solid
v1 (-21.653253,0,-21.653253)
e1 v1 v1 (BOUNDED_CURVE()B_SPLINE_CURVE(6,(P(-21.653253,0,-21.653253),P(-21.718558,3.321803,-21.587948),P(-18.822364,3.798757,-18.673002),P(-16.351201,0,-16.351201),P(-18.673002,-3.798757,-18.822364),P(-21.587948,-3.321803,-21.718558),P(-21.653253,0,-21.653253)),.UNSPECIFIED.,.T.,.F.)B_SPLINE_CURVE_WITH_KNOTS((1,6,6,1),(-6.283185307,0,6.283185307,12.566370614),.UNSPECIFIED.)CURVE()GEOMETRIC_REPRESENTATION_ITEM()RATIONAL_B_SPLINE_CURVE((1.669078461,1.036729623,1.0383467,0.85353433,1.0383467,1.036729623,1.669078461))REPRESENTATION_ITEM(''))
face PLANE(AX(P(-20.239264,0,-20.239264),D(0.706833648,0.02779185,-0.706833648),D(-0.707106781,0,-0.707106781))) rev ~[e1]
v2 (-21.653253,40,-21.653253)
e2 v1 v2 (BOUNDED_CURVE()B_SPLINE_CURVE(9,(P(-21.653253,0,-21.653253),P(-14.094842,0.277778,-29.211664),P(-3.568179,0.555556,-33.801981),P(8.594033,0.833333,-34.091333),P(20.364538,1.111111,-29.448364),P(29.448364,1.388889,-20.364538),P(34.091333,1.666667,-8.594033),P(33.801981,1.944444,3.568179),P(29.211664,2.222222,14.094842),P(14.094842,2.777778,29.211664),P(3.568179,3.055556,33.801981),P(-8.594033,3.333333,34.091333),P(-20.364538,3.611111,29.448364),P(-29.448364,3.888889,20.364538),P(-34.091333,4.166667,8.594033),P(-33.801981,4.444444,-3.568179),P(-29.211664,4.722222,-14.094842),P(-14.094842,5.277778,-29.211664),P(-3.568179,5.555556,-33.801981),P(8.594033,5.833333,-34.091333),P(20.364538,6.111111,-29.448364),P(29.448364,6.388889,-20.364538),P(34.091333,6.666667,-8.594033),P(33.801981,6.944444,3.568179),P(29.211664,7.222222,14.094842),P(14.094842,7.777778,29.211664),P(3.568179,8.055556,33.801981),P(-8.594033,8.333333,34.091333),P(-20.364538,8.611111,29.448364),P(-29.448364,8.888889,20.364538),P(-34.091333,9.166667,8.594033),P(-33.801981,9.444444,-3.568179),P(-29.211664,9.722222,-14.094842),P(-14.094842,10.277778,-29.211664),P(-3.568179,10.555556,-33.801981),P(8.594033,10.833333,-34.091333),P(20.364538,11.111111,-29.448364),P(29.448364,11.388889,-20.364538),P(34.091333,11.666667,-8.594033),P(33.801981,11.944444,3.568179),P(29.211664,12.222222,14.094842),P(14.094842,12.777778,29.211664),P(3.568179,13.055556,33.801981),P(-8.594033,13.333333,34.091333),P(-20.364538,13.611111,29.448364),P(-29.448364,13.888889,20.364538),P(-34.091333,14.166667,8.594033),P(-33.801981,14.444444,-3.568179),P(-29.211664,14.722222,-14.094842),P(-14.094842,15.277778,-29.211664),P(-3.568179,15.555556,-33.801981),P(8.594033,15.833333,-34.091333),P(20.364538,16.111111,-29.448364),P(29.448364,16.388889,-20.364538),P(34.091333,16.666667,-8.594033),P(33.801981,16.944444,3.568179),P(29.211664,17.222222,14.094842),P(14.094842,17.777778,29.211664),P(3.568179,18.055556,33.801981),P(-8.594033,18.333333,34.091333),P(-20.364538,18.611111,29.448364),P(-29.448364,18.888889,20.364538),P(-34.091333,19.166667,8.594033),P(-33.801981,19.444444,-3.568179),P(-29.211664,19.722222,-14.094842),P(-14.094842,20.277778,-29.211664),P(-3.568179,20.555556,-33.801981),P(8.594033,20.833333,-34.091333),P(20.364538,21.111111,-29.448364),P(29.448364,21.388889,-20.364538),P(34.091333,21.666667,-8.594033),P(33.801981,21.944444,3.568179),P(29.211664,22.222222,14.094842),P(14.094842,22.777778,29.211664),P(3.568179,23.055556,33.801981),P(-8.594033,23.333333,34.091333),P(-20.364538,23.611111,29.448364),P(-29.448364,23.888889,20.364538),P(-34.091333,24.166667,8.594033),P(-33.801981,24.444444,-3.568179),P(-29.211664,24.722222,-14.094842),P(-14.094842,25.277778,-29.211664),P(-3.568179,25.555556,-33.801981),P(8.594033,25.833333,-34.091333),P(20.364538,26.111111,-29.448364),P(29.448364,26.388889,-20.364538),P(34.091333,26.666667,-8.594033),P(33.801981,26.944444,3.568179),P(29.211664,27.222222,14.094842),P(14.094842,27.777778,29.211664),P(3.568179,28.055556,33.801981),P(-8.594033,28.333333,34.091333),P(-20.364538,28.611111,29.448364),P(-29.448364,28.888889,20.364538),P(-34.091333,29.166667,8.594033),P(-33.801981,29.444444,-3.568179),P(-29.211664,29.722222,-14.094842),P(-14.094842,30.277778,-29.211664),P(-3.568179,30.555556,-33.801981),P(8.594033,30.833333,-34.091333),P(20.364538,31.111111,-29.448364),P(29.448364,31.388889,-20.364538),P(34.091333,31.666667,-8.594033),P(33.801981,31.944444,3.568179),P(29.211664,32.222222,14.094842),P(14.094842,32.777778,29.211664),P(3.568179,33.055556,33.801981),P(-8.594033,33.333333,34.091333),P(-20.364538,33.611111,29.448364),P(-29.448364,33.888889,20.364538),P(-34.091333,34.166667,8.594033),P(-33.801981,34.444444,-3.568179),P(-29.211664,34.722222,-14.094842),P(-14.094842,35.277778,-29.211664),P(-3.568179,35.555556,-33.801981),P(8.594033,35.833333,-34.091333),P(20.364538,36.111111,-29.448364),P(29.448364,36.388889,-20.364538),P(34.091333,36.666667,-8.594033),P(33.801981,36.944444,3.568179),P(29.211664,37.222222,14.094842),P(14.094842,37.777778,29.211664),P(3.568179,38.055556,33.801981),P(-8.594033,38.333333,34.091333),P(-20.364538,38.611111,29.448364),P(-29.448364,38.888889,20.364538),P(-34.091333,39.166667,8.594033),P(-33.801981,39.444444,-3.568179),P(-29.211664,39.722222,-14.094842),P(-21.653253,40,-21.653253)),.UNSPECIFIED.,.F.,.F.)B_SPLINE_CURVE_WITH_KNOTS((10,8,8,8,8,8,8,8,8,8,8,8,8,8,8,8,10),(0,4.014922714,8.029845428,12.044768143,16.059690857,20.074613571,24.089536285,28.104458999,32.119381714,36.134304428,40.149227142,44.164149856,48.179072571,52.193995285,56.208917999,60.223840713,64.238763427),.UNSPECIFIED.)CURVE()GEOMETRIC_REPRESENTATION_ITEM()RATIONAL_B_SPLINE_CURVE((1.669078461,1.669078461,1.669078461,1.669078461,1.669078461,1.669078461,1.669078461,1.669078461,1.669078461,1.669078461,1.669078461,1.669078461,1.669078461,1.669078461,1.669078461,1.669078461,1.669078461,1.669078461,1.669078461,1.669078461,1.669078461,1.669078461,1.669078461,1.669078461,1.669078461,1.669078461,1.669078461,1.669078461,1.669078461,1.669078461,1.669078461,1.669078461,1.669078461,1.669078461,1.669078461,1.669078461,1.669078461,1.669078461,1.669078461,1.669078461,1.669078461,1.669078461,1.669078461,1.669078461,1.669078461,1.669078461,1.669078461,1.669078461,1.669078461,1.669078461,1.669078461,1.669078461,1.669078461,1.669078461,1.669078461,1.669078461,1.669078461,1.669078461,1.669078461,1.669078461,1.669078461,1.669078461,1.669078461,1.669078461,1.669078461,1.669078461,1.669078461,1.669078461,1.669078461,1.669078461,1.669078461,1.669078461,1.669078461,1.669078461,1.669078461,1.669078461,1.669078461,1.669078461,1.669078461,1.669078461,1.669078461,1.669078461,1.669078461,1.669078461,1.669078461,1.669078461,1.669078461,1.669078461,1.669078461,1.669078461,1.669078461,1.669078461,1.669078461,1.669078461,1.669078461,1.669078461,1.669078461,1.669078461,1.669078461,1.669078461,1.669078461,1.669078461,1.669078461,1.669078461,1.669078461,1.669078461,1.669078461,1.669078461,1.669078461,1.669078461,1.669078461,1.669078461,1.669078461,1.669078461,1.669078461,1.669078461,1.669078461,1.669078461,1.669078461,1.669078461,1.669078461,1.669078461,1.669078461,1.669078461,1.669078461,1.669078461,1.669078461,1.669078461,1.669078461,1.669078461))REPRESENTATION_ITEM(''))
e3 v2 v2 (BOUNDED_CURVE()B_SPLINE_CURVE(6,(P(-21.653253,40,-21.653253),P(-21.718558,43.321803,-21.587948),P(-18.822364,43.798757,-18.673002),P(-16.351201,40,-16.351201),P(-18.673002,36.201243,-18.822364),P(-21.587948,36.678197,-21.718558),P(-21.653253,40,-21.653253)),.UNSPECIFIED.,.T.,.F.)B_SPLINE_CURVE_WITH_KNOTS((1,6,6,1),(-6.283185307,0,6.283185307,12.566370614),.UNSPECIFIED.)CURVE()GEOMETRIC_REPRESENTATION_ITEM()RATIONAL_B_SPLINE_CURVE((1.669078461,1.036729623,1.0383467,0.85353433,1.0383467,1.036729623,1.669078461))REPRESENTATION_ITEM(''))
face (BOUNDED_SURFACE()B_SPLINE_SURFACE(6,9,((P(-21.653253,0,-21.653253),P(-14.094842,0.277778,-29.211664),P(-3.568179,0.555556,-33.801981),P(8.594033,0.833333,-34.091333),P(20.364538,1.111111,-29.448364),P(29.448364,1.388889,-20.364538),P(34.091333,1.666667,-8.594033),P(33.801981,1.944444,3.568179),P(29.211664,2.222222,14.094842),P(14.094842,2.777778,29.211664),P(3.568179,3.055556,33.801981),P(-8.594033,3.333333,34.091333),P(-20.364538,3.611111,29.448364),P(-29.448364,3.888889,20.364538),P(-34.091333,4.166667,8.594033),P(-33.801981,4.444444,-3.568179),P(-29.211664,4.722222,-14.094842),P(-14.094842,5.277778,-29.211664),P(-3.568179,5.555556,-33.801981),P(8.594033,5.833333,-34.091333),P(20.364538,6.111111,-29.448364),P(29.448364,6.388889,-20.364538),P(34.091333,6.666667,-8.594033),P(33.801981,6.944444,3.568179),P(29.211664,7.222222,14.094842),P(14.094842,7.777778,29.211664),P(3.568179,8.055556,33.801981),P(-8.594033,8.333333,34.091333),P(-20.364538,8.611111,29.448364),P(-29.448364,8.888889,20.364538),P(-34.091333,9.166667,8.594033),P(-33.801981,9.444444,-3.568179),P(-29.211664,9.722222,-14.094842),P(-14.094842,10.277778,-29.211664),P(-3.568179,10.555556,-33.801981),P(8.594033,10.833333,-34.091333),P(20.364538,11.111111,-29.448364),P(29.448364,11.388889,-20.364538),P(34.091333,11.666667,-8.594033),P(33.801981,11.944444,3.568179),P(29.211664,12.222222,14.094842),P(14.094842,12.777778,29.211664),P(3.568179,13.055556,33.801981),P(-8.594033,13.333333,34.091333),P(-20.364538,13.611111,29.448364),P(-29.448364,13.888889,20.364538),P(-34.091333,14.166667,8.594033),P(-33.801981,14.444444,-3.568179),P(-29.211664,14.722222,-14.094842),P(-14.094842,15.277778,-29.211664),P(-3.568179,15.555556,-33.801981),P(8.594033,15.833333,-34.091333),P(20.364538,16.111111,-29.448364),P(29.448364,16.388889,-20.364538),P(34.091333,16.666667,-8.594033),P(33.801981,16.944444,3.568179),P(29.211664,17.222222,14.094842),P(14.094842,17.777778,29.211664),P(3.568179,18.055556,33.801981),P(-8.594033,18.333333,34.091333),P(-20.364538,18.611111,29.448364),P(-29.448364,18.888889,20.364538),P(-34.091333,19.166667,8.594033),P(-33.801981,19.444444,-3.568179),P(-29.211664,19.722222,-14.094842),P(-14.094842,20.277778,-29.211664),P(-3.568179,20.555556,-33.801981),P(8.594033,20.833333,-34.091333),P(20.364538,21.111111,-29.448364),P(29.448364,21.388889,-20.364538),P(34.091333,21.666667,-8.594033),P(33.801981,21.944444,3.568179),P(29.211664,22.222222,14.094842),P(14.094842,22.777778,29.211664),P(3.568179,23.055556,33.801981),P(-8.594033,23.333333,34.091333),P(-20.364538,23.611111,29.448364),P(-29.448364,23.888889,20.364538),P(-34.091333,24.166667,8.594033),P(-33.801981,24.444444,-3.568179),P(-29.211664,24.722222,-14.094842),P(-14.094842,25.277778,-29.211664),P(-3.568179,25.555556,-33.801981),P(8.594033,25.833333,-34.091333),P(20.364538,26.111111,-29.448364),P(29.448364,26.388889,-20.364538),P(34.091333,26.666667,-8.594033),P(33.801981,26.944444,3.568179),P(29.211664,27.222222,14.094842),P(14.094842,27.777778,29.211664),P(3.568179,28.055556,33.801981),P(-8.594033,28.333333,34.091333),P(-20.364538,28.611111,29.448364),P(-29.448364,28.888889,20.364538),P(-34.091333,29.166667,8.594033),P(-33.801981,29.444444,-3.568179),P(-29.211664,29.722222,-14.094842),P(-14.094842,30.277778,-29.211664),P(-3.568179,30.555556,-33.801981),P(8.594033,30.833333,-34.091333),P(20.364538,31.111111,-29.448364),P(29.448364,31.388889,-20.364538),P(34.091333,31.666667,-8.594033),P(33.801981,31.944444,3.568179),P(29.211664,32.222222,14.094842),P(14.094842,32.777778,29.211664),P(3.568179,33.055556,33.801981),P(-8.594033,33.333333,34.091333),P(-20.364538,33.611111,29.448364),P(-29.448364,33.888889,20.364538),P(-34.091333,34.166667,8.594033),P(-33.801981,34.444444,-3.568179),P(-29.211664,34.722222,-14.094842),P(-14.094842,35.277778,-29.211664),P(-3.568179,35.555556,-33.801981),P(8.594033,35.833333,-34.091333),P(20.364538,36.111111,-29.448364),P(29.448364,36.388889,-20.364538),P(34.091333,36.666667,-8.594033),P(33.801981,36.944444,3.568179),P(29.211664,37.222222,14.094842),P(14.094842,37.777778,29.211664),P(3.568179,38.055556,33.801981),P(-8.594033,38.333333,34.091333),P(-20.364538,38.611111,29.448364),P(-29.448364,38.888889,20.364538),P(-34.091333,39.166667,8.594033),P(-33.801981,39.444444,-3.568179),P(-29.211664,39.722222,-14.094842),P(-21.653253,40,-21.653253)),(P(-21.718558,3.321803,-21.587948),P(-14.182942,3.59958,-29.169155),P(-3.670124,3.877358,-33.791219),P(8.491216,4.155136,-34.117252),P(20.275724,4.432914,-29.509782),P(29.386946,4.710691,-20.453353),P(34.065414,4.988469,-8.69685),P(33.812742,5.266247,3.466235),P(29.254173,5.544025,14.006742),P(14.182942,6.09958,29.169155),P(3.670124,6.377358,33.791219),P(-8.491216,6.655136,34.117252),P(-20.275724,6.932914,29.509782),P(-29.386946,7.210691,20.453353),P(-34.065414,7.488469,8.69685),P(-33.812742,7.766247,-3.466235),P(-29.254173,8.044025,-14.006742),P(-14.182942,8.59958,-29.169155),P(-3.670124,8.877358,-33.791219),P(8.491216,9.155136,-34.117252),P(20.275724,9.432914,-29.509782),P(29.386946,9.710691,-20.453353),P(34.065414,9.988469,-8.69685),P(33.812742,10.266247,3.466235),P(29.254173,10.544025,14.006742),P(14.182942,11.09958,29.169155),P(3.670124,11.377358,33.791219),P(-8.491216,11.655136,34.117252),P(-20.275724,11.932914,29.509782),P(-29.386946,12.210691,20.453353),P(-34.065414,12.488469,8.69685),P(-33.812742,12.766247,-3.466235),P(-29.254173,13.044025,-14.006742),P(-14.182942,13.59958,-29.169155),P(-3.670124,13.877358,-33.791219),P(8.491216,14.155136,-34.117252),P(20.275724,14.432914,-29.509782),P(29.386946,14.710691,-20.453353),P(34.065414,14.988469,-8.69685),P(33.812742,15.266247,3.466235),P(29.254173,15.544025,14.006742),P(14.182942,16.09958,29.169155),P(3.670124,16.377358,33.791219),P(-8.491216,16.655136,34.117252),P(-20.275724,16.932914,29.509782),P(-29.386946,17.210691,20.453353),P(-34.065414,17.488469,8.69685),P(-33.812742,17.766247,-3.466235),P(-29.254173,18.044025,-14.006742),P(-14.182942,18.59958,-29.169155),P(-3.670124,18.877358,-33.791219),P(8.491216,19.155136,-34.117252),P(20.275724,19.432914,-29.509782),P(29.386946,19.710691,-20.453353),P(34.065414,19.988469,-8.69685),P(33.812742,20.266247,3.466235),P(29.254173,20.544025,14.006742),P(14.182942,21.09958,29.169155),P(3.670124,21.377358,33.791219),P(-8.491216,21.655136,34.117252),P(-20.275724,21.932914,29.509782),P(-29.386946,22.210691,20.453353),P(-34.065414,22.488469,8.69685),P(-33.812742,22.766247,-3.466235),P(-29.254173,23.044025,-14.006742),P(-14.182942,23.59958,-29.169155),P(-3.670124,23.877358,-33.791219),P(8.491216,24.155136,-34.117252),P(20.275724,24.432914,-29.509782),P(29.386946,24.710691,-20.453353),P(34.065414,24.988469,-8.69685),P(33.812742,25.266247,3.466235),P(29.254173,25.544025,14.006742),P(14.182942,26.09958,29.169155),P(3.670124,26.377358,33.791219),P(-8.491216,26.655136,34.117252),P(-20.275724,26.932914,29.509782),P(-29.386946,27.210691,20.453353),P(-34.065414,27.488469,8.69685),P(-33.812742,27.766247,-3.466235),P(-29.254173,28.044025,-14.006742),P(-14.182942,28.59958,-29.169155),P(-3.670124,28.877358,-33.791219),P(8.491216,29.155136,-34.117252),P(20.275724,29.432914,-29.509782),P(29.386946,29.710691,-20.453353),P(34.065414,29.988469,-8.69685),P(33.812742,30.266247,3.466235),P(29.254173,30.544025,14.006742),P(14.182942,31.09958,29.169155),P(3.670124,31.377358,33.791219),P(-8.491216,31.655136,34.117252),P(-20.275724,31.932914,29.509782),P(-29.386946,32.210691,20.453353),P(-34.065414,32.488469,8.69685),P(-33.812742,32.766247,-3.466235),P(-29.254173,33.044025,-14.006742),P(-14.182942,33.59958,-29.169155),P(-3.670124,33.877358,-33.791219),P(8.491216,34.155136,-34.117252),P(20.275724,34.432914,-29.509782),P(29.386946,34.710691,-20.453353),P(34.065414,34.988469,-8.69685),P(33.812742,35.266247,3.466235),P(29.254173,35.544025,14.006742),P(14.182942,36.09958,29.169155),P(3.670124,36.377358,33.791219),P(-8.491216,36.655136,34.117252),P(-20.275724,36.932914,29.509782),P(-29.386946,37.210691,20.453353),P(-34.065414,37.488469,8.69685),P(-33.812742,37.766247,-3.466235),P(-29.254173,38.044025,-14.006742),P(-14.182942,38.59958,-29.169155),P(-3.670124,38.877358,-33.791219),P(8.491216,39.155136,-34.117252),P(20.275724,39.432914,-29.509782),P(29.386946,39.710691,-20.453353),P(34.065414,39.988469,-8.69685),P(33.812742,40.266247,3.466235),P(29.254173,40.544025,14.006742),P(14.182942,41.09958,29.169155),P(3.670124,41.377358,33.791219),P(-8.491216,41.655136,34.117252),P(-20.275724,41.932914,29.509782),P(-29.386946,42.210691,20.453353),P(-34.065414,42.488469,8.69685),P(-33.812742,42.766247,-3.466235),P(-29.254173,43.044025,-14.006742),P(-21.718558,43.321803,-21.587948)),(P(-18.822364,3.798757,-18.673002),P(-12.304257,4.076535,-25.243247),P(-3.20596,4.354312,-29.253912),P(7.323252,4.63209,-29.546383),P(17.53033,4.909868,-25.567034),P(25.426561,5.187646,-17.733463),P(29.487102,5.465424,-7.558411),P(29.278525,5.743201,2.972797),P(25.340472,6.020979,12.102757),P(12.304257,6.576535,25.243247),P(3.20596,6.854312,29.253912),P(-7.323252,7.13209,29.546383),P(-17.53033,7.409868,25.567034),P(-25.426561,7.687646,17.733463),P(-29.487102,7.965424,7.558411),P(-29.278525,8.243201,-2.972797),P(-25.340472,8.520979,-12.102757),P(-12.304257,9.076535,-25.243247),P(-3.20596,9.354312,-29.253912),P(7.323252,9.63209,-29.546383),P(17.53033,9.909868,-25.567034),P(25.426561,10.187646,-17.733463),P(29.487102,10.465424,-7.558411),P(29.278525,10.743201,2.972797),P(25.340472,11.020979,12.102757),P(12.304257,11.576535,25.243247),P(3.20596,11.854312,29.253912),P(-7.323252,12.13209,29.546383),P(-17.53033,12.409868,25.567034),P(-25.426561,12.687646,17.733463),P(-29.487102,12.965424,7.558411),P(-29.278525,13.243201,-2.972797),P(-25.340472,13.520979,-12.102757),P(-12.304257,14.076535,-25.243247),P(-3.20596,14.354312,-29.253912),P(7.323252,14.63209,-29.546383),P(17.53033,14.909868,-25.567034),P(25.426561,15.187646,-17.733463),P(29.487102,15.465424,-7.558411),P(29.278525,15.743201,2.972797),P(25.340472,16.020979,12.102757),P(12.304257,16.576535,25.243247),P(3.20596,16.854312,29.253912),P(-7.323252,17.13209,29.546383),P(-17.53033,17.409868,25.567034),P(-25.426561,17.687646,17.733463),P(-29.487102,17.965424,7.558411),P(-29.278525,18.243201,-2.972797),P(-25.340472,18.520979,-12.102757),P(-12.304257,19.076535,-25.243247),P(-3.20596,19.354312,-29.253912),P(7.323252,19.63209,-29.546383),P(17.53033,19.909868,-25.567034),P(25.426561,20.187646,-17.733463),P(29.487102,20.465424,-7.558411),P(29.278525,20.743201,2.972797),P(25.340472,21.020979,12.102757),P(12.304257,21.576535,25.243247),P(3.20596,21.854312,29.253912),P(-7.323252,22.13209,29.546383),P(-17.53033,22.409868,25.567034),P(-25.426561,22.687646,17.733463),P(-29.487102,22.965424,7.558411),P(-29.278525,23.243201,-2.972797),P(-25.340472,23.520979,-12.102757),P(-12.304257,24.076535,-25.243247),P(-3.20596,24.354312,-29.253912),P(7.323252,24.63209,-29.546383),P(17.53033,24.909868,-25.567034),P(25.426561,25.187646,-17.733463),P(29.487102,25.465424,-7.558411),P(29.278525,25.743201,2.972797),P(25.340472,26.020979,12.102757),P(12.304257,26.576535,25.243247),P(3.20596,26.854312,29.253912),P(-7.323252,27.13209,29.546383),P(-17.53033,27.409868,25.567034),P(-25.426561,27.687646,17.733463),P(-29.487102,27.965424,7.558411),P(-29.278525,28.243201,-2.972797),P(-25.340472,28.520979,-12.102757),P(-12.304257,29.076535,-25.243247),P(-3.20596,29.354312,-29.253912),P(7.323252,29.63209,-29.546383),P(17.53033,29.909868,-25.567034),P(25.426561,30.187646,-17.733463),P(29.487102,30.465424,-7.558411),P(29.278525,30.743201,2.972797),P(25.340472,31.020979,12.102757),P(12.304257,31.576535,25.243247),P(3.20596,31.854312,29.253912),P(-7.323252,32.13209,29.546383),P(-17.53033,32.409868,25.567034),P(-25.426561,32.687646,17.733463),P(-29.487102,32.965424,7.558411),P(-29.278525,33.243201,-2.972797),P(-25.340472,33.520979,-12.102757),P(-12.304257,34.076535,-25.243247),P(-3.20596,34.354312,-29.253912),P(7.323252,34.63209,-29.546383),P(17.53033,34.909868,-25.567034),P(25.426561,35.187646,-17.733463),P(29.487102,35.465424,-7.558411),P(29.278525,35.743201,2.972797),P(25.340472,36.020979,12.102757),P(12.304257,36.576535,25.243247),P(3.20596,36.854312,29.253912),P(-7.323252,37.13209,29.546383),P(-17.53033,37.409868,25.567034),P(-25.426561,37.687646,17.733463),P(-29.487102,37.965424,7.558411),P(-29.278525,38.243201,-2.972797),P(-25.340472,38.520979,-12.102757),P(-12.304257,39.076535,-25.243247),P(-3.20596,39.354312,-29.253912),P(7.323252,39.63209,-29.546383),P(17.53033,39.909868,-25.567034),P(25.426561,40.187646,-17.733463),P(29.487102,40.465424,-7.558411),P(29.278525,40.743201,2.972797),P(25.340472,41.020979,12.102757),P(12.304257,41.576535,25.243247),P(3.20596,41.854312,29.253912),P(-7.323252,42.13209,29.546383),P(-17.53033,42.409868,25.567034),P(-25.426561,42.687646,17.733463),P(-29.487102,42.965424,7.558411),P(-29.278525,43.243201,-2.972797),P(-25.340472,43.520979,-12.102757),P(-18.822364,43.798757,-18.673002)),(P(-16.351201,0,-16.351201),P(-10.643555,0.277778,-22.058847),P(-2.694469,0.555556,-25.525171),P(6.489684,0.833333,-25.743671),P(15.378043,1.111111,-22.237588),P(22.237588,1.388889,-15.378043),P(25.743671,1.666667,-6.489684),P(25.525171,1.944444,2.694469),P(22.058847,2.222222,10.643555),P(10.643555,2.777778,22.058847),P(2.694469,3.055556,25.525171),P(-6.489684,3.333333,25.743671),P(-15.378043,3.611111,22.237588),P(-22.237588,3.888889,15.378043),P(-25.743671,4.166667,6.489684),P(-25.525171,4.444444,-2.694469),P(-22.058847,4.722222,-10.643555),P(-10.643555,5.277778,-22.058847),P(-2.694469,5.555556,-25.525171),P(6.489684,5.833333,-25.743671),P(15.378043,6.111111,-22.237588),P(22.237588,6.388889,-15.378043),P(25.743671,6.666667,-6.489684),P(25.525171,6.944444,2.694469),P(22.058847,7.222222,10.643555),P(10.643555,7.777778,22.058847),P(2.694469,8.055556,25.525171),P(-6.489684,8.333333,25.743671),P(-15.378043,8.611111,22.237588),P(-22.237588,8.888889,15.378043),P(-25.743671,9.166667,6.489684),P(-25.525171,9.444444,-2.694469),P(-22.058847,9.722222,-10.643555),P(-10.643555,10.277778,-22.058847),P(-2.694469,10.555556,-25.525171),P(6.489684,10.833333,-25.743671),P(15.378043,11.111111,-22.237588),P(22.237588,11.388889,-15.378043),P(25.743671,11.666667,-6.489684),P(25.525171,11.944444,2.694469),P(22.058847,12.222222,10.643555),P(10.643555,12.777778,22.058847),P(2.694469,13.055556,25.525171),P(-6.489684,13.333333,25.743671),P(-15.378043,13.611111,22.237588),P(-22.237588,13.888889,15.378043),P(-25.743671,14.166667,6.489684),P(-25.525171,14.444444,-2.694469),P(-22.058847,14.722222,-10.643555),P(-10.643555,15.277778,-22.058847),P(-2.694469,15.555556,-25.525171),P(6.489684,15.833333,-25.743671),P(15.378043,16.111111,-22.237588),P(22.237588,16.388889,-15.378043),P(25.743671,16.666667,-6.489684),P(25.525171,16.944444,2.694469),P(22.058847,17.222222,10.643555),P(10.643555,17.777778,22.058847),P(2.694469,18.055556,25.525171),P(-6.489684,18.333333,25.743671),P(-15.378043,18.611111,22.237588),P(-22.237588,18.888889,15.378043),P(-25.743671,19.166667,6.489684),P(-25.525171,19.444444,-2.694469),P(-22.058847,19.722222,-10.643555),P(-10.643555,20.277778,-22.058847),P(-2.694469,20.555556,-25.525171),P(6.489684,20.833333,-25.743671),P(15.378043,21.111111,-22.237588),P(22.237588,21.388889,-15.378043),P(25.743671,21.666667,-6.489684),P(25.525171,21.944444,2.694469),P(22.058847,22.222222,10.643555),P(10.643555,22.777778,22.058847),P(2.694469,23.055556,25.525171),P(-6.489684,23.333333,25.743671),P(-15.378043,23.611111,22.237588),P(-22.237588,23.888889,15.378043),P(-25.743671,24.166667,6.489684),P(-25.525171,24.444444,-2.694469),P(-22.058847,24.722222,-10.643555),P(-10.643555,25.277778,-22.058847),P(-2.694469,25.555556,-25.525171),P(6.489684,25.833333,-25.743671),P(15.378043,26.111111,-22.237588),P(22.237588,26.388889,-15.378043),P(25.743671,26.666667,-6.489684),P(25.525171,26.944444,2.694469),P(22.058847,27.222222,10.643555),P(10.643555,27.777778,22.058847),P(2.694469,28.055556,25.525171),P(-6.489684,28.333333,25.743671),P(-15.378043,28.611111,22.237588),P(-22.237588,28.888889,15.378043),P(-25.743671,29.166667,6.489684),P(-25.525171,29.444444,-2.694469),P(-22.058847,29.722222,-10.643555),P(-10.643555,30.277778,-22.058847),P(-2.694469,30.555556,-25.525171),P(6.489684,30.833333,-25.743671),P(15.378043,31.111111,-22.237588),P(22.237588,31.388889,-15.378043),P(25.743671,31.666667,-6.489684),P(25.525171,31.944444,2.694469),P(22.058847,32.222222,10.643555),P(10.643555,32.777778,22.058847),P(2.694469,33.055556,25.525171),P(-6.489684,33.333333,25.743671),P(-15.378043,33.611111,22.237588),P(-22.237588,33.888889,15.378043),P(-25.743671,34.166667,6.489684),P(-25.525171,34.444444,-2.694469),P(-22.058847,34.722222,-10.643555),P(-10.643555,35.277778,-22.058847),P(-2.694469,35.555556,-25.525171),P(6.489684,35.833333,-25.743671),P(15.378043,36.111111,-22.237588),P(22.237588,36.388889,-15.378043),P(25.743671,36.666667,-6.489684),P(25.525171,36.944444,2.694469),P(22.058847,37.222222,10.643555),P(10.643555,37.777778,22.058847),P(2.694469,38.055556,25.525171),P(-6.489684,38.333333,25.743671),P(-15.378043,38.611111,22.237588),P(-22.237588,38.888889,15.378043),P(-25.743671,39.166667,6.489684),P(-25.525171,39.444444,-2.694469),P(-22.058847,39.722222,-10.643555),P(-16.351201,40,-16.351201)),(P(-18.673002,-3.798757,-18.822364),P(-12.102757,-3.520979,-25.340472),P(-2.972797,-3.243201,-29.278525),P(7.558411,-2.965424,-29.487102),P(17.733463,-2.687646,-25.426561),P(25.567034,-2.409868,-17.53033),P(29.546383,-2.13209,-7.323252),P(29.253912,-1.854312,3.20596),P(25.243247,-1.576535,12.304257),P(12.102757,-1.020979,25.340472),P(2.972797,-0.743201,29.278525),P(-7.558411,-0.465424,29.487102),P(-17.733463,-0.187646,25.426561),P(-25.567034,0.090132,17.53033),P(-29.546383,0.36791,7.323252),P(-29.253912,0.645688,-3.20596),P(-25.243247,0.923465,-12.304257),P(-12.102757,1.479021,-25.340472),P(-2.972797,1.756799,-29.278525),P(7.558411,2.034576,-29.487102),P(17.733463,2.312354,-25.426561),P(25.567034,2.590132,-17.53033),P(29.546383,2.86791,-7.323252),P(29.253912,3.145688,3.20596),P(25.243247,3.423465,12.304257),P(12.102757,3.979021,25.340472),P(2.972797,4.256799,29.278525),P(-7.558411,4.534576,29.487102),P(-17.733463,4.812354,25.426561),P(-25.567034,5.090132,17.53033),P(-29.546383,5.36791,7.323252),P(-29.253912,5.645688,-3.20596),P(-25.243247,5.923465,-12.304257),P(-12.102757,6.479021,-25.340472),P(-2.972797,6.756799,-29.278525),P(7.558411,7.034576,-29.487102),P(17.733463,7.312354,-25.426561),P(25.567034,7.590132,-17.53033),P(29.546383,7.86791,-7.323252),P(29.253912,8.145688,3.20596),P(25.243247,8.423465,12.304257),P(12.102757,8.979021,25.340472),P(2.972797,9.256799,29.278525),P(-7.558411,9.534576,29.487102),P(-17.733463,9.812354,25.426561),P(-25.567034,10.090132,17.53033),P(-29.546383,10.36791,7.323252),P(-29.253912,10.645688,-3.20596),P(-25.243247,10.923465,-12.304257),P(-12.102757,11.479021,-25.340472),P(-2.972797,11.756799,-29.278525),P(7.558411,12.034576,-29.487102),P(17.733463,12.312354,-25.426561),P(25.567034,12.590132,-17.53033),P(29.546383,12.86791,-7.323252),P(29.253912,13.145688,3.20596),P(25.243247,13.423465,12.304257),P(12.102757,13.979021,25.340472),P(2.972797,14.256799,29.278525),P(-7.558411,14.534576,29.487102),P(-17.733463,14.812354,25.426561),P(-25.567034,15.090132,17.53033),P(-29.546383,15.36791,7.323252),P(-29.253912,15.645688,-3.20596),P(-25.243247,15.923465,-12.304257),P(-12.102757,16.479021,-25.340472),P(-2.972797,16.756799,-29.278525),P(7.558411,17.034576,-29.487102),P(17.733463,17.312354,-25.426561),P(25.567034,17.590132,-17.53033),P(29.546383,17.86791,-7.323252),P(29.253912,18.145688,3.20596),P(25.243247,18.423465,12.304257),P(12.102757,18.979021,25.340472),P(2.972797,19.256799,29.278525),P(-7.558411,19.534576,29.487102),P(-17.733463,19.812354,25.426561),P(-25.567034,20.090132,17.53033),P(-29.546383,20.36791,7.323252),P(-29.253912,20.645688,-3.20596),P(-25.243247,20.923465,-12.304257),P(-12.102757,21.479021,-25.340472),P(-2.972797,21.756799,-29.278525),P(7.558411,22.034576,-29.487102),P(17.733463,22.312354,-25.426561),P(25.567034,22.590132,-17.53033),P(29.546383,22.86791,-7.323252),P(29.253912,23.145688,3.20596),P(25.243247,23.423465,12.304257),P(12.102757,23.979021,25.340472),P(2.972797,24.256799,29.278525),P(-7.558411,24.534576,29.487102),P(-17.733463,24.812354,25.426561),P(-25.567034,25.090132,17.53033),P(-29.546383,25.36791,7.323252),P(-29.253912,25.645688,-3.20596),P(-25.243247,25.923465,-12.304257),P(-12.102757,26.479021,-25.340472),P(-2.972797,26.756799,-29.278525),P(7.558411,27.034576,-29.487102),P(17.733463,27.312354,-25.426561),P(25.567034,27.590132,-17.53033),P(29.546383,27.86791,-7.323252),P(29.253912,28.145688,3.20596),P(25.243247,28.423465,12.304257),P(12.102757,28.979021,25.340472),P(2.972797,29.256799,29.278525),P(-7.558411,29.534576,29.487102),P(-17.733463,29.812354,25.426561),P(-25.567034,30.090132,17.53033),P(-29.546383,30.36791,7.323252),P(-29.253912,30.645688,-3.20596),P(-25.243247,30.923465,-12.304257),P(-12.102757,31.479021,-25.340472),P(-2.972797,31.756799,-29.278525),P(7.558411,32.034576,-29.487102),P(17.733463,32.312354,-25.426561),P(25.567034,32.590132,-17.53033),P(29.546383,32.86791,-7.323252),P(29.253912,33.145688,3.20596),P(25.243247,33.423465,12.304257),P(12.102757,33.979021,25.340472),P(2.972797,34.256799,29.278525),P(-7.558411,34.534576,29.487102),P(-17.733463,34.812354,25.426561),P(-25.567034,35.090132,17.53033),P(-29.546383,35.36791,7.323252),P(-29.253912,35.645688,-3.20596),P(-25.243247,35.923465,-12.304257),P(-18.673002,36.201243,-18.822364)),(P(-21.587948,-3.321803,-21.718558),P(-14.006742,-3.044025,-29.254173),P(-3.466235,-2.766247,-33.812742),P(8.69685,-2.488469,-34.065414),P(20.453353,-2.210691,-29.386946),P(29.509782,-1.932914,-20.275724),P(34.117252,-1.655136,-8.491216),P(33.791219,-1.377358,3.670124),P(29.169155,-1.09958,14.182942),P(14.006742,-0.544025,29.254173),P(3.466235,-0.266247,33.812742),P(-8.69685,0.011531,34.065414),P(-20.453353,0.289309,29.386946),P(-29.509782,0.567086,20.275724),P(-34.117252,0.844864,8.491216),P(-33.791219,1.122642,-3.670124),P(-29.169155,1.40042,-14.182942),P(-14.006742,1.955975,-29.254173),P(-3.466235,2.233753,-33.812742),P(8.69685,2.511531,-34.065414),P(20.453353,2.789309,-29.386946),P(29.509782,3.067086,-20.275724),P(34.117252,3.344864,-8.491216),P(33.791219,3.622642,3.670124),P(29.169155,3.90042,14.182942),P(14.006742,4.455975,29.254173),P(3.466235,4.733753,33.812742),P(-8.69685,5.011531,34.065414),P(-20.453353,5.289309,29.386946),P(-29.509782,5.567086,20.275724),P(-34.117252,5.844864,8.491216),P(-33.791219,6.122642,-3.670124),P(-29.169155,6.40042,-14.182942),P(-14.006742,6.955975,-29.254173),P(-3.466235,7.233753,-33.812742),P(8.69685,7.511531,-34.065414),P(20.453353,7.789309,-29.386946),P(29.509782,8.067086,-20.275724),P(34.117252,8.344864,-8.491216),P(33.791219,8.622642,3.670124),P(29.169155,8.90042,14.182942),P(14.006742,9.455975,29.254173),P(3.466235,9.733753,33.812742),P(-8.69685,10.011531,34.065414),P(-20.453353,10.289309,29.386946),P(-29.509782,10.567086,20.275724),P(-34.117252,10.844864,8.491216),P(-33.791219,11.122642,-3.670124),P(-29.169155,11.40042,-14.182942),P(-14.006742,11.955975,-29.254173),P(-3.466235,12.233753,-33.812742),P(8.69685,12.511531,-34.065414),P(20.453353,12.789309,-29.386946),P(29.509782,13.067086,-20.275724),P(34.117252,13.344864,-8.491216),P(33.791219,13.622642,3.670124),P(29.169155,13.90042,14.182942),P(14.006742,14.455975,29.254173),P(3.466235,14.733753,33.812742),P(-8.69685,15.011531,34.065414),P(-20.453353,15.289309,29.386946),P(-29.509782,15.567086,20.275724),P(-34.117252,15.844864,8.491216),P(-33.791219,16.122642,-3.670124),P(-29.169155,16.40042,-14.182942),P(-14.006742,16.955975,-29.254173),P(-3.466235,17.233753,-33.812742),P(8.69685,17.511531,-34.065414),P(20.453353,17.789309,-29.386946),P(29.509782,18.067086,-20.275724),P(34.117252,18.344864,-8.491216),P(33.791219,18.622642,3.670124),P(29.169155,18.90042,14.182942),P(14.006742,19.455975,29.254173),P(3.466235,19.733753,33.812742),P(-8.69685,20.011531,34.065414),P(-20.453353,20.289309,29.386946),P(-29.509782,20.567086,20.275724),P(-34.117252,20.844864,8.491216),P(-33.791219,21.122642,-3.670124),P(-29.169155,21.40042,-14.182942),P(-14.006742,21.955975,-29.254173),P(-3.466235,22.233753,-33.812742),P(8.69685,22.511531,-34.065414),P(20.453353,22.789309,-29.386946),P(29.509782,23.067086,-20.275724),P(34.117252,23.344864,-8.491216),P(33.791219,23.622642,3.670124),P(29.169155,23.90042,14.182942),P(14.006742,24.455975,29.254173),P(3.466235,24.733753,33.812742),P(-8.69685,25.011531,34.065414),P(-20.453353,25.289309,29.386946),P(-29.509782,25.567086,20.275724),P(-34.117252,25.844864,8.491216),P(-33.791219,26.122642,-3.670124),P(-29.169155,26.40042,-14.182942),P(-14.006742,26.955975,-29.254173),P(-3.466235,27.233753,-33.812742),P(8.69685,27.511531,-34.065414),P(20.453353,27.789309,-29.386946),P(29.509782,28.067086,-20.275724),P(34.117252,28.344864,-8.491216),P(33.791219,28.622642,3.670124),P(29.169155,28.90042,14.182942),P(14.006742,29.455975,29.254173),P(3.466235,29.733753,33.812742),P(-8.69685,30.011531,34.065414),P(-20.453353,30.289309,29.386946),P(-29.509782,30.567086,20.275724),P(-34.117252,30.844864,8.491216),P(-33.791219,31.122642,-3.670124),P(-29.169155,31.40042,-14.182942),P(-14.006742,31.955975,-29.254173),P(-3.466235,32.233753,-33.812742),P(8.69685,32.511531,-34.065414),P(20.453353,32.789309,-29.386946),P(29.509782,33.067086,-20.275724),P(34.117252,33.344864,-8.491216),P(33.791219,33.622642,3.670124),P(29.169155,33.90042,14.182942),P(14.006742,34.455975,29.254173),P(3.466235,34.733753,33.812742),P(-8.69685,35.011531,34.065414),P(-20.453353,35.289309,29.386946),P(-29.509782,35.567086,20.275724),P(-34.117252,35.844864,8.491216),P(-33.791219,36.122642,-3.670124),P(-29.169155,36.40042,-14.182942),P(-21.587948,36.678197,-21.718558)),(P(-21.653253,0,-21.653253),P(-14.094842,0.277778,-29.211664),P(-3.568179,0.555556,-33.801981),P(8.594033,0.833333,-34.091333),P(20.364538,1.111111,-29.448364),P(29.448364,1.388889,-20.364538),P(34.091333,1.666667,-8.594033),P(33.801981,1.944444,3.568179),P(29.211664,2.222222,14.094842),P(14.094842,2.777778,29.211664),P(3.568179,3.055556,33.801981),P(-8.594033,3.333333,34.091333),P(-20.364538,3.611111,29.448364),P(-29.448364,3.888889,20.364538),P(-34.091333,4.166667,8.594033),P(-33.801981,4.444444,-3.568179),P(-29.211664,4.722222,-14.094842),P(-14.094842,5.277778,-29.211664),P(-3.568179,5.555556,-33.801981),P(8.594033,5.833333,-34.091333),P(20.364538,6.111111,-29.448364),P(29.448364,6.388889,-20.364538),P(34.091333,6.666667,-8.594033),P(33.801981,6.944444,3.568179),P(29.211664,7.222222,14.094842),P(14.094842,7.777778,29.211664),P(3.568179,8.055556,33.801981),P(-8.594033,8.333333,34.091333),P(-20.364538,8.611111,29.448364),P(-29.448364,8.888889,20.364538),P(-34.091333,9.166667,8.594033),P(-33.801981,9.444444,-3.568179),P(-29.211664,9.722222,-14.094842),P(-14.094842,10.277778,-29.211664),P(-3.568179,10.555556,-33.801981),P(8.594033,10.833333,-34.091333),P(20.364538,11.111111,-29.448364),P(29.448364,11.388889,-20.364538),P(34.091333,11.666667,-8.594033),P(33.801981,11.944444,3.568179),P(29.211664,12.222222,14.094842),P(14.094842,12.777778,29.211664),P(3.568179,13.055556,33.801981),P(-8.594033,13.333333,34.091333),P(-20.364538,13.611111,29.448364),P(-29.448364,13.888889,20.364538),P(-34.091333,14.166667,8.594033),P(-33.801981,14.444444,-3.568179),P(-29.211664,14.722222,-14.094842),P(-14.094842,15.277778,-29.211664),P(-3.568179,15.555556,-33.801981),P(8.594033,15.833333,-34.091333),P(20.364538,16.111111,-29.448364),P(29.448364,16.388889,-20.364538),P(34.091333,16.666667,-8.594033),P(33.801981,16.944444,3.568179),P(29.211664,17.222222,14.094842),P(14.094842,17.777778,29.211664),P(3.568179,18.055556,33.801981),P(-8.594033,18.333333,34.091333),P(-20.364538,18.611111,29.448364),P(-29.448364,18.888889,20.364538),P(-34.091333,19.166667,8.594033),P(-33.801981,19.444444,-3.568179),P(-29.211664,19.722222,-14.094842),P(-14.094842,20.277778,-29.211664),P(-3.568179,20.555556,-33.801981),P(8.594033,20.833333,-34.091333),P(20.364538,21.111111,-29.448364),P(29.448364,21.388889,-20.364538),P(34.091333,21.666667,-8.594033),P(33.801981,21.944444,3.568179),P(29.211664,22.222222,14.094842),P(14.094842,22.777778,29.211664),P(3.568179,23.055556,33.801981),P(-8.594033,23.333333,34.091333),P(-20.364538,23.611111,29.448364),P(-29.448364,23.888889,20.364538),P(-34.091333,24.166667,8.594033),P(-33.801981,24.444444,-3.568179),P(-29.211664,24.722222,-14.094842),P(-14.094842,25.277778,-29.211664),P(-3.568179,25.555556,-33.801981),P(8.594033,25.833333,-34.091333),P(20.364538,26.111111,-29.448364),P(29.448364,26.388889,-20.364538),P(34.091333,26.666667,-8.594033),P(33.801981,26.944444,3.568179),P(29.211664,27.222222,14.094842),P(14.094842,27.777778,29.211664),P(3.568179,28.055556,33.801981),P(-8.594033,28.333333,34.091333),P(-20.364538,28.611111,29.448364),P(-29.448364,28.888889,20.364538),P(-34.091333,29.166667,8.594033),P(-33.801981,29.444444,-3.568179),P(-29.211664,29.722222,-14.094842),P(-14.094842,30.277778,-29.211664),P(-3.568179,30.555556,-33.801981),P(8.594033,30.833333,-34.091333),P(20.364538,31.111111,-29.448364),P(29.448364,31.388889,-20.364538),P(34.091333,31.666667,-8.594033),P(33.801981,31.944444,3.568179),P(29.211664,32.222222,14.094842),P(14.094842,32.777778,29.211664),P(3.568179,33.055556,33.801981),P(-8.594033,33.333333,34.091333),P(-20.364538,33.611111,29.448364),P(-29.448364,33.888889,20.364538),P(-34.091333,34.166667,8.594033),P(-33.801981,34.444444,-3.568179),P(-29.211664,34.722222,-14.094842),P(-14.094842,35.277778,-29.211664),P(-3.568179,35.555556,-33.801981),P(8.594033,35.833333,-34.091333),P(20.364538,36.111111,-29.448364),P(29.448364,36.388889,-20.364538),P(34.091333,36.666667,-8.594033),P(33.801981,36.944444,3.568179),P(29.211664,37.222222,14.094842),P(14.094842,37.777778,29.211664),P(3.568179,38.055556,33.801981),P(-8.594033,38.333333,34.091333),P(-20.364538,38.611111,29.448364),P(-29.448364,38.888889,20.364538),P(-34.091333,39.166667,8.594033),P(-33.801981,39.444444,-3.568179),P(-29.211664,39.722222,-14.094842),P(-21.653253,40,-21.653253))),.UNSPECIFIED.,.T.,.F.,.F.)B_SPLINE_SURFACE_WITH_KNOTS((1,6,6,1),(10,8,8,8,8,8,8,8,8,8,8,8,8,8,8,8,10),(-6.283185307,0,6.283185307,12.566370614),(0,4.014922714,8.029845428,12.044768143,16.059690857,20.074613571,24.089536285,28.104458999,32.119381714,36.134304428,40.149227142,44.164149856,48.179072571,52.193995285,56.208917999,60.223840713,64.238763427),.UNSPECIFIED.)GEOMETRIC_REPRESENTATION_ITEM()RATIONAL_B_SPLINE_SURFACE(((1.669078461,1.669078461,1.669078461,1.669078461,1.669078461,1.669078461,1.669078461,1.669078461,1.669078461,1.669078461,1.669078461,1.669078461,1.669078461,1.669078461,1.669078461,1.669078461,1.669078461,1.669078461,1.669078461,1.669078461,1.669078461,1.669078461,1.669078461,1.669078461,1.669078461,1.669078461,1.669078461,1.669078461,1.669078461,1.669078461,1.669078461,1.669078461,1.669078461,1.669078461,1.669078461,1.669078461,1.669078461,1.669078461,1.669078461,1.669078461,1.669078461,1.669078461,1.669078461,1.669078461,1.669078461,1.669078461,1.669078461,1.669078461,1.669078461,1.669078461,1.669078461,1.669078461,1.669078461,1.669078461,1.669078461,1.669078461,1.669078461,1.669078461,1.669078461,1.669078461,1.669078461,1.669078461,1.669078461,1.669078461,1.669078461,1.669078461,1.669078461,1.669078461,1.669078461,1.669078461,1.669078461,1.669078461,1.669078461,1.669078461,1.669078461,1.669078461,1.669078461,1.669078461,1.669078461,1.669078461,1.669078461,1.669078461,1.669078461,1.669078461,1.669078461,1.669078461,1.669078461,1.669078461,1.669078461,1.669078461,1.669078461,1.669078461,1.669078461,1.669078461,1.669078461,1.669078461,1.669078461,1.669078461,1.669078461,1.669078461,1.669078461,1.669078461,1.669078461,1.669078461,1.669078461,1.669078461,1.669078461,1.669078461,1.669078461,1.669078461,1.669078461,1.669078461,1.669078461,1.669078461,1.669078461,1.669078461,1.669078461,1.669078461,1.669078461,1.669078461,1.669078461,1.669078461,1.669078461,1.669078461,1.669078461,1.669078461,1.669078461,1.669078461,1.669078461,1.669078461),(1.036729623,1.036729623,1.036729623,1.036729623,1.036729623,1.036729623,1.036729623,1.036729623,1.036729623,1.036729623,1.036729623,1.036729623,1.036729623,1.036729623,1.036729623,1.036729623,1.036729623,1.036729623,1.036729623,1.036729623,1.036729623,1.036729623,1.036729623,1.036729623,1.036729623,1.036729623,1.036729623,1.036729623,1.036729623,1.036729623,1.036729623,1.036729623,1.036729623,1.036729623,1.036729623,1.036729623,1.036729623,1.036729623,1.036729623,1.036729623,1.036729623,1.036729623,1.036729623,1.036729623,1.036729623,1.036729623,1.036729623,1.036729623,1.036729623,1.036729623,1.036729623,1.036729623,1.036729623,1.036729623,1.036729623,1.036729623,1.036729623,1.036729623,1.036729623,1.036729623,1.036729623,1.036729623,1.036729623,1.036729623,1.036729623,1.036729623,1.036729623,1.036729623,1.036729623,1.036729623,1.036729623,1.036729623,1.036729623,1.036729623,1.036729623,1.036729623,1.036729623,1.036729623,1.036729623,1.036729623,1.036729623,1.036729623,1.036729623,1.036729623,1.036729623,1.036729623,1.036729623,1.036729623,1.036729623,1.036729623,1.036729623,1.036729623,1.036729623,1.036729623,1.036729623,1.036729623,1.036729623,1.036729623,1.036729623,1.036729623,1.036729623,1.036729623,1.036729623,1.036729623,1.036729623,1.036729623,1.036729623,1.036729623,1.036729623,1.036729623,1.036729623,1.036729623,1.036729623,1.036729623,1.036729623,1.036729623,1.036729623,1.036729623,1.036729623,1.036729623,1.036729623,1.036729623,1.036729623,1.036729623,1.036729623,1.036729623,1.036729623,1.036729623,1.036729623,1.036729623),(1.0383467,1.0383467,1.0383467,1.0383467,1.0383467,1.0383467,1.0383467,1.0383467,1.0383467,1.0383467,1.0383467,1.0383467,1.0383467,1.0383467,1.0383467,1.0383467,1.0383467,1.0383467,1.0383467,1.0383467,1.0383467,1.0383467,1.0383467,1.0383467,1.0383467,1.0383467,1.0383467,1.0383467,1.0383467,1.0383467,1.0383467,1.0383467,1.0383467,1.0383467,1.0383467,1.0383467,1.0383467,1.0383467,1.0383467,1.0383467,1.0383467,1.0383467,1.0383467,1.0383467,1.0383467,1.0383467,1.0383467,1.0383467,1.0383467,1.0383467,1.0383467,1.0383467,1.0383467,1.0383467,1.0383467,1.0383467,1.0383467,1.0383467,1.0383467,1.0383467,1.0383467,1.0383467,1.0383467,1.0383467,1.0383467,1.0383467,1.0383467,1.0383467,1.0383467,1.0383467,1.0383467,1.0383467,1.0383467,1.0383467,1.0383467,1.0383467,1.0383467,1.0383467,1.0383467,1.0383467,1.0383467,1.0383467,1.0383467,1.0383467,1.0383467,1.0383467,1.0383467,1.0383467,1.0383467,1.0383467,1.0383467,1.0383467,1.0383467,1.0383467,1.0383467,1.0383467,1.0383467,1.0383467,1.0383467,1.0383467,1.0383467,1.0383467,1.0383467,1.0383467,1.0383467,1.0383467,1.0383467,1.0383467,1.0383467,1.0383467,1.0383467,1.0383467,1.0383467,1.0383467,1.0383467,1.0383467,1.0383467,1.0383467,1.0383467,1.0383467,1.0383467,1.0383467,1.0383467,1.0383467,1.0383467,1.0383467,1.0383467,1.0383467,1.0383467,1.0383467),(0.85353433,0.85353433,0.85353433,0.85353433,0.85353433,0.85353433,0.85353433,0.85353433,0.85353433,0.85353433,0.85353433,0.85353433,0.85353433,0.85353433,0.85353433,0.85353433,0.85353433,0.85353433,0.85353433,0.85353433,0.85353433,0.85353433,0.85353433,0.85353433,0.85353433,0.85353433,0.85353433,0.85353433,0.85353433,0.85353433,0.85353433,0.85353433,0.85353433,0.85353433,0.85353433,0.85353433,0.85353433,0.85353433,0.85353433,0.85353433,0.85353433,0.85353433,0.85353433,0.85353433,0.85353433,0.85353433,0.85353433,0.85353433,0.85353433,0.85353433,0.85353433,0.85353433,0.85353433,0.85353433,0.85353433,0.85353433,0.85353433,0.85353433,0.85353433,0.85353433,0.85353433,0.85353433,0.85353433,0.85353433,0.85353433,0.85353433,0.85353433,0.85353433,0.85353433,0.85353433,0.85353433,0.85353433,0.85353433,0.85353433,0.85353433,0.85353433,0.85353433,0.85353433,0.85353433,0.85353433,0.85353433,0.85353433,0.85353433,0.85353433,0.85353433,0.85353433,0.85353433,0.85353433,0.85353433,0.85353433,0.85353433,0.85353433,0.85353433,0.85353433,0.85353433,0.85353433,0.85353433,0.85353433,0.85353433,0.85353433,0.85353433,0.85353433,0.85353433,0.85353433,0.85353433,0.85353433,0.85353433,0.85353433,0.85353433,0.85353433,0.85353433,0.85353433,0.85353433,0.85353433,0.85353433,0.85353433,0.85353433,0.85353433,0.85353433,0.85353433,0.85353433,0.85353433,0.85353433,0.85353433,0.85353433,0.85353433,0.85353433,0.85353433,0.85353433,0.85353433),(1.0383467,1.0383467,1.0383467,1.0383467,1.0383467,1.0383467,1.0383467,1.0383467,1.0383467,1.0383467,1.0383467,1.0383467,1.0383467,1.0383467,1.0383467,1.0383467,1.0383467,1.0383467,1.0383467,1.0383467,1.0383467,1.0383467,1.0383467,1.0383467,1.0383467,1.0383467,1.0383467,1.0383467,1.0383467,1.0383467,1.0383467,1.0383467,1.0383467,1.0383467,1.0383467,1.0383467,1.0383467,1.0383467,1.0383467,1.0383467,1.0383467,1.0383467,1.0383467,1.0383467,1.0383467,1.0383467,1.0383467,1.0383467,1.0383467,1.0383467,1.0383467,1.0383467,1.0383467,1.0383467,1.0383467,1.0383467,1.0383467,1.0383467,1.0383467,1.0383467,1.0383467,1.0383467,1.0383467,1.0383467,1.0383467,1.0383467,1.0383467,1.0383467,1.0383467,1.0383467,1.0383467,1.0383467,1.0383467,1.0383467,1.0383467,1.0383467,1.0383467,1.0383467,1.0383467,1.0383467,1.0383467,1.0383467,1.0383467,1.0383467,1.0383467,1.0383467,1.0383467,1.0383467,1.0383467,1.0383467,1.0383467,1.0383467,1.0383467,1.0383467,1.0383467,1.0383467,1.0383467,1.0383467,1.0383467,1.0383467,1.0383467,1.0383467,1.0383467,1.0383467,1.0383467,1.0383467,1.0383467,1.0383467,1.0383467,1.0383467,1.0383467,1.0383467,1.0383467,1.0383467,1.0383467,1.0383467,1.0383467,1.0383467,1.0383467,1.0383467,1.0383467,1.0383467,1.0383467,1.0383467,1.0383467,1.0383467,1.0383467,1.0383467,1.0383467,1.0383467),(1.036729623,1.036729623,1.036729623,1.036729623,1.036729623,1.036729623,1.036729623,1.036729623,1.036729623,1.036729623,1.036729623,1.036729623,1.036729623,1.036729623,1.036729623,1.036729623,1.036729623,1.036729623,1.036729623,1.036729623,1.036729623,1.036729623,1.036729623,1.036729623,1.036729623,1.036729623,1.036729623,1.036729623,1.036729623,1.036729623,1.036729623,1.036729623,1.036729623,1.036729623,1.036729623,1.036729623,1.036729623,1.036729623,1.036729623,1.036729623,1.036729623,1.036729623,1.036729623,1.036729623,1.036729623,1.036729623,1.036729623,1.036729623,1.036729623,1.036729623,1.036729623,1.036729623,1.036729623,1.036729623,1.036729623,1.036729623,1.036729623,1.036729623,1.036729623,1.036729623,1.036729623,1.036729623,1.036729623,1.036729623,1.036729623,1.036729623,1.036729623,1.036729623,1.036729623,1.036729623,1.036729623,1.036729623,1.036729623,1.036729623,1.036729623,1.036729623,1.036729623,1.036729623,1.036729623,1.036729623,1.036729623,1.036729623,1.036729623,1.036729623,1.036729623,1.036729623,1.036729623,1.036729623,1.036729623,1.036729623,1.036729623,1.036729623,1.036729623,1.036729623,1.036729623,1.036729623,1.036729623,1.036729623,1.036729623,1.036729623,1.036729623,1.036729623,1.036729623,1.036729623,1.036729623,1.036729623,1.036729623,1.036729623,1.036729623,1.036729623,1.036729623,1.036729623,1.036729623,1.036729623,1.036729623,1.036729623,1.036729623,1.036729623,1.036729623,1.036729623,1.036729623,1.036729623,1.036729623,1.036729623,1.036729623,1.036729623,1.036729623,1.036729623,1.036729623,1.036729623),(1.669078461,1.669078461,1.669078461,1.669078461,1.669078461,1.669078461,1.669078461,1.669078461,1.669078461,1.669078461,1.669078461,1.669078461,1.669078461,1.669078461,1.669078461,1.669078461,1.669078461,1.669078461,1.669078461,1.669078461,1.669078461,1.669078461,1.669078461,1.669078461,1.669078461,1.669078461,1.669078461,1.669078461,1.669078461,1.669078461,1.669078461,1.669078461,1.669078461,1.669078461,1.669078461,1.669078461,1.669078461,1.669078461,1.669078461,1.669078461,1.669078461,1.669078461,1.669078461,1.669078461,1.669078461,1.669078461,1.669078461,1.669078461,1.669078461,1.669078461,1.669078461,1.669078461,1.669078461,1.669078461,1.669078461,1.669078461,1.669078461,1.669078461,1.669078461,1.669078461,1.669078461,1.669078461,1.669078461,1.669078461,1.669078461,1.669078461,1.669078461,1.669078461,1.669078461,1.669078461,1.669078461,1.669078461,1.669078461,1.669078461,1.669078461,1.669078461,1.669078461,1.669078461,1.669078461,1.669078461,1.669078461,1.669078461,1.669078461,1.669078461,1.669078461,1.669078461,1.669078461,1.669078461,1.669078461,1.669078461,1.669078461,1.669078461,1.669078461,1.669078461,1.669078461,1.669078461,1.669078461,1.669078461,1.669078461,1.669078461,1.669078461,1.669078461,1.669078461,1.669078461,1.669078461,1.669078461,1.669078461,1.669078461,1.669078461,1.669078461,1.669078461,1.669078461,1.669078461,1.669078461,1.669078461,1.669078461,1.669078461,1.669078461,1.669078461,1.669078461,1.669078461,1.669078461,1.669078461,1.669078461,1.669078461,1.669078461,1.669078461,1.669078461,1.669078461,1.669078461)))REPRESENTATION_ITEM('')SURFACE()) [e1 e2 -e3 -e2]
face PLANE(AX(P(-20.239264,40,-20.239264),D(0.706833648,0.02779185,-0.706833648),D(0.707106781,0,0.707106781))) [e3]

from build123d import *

# Parameters (mm, degrees)
AUSTRAGUNG2_PITCH       = 5
AUSTRAGUNG2_HEIGHT      = 40
AUSTRAGUNG2_RADIUS      = 28.622324187
AUSTRAGUNG2_START_ANGLE = -135
AUSTRAGUNG2_PROFILE_R   = 2


with BuildPart() as part:
    # Austragung2: sweep along a helix
    with BuildLine() as austragung2_path:
        add(Helix(AUSTRAGUNG2_PITCH, AUSTRAGUNG2_HEIGHT, AUSTRAGUNG2_RADIUS, center=(0, 0, 0), direction=(0, 1, 0), lefthand=True, mode=Mode.PRIVATE).rotate(Axis((0, 0, 0), (0, 1, 0)), AUSTRAGUNG2_START_ANGLE))
    # Austragung2 profile (on start of the path) → Austragung2 (sweep)
    with BuildSketch(Plane(origin=(-20.239039526, 0, -20.239039526), x_dir=(-0.707106781, 0, -0.707106781), z_dir=(0.706833648, 0.02779185, -0.706833648))):
        Circle(AUSTRAGUNG2_PROFILE_R)
    sweep(path=austragung2_path.line, is_frenet=True)


solid = part.part
